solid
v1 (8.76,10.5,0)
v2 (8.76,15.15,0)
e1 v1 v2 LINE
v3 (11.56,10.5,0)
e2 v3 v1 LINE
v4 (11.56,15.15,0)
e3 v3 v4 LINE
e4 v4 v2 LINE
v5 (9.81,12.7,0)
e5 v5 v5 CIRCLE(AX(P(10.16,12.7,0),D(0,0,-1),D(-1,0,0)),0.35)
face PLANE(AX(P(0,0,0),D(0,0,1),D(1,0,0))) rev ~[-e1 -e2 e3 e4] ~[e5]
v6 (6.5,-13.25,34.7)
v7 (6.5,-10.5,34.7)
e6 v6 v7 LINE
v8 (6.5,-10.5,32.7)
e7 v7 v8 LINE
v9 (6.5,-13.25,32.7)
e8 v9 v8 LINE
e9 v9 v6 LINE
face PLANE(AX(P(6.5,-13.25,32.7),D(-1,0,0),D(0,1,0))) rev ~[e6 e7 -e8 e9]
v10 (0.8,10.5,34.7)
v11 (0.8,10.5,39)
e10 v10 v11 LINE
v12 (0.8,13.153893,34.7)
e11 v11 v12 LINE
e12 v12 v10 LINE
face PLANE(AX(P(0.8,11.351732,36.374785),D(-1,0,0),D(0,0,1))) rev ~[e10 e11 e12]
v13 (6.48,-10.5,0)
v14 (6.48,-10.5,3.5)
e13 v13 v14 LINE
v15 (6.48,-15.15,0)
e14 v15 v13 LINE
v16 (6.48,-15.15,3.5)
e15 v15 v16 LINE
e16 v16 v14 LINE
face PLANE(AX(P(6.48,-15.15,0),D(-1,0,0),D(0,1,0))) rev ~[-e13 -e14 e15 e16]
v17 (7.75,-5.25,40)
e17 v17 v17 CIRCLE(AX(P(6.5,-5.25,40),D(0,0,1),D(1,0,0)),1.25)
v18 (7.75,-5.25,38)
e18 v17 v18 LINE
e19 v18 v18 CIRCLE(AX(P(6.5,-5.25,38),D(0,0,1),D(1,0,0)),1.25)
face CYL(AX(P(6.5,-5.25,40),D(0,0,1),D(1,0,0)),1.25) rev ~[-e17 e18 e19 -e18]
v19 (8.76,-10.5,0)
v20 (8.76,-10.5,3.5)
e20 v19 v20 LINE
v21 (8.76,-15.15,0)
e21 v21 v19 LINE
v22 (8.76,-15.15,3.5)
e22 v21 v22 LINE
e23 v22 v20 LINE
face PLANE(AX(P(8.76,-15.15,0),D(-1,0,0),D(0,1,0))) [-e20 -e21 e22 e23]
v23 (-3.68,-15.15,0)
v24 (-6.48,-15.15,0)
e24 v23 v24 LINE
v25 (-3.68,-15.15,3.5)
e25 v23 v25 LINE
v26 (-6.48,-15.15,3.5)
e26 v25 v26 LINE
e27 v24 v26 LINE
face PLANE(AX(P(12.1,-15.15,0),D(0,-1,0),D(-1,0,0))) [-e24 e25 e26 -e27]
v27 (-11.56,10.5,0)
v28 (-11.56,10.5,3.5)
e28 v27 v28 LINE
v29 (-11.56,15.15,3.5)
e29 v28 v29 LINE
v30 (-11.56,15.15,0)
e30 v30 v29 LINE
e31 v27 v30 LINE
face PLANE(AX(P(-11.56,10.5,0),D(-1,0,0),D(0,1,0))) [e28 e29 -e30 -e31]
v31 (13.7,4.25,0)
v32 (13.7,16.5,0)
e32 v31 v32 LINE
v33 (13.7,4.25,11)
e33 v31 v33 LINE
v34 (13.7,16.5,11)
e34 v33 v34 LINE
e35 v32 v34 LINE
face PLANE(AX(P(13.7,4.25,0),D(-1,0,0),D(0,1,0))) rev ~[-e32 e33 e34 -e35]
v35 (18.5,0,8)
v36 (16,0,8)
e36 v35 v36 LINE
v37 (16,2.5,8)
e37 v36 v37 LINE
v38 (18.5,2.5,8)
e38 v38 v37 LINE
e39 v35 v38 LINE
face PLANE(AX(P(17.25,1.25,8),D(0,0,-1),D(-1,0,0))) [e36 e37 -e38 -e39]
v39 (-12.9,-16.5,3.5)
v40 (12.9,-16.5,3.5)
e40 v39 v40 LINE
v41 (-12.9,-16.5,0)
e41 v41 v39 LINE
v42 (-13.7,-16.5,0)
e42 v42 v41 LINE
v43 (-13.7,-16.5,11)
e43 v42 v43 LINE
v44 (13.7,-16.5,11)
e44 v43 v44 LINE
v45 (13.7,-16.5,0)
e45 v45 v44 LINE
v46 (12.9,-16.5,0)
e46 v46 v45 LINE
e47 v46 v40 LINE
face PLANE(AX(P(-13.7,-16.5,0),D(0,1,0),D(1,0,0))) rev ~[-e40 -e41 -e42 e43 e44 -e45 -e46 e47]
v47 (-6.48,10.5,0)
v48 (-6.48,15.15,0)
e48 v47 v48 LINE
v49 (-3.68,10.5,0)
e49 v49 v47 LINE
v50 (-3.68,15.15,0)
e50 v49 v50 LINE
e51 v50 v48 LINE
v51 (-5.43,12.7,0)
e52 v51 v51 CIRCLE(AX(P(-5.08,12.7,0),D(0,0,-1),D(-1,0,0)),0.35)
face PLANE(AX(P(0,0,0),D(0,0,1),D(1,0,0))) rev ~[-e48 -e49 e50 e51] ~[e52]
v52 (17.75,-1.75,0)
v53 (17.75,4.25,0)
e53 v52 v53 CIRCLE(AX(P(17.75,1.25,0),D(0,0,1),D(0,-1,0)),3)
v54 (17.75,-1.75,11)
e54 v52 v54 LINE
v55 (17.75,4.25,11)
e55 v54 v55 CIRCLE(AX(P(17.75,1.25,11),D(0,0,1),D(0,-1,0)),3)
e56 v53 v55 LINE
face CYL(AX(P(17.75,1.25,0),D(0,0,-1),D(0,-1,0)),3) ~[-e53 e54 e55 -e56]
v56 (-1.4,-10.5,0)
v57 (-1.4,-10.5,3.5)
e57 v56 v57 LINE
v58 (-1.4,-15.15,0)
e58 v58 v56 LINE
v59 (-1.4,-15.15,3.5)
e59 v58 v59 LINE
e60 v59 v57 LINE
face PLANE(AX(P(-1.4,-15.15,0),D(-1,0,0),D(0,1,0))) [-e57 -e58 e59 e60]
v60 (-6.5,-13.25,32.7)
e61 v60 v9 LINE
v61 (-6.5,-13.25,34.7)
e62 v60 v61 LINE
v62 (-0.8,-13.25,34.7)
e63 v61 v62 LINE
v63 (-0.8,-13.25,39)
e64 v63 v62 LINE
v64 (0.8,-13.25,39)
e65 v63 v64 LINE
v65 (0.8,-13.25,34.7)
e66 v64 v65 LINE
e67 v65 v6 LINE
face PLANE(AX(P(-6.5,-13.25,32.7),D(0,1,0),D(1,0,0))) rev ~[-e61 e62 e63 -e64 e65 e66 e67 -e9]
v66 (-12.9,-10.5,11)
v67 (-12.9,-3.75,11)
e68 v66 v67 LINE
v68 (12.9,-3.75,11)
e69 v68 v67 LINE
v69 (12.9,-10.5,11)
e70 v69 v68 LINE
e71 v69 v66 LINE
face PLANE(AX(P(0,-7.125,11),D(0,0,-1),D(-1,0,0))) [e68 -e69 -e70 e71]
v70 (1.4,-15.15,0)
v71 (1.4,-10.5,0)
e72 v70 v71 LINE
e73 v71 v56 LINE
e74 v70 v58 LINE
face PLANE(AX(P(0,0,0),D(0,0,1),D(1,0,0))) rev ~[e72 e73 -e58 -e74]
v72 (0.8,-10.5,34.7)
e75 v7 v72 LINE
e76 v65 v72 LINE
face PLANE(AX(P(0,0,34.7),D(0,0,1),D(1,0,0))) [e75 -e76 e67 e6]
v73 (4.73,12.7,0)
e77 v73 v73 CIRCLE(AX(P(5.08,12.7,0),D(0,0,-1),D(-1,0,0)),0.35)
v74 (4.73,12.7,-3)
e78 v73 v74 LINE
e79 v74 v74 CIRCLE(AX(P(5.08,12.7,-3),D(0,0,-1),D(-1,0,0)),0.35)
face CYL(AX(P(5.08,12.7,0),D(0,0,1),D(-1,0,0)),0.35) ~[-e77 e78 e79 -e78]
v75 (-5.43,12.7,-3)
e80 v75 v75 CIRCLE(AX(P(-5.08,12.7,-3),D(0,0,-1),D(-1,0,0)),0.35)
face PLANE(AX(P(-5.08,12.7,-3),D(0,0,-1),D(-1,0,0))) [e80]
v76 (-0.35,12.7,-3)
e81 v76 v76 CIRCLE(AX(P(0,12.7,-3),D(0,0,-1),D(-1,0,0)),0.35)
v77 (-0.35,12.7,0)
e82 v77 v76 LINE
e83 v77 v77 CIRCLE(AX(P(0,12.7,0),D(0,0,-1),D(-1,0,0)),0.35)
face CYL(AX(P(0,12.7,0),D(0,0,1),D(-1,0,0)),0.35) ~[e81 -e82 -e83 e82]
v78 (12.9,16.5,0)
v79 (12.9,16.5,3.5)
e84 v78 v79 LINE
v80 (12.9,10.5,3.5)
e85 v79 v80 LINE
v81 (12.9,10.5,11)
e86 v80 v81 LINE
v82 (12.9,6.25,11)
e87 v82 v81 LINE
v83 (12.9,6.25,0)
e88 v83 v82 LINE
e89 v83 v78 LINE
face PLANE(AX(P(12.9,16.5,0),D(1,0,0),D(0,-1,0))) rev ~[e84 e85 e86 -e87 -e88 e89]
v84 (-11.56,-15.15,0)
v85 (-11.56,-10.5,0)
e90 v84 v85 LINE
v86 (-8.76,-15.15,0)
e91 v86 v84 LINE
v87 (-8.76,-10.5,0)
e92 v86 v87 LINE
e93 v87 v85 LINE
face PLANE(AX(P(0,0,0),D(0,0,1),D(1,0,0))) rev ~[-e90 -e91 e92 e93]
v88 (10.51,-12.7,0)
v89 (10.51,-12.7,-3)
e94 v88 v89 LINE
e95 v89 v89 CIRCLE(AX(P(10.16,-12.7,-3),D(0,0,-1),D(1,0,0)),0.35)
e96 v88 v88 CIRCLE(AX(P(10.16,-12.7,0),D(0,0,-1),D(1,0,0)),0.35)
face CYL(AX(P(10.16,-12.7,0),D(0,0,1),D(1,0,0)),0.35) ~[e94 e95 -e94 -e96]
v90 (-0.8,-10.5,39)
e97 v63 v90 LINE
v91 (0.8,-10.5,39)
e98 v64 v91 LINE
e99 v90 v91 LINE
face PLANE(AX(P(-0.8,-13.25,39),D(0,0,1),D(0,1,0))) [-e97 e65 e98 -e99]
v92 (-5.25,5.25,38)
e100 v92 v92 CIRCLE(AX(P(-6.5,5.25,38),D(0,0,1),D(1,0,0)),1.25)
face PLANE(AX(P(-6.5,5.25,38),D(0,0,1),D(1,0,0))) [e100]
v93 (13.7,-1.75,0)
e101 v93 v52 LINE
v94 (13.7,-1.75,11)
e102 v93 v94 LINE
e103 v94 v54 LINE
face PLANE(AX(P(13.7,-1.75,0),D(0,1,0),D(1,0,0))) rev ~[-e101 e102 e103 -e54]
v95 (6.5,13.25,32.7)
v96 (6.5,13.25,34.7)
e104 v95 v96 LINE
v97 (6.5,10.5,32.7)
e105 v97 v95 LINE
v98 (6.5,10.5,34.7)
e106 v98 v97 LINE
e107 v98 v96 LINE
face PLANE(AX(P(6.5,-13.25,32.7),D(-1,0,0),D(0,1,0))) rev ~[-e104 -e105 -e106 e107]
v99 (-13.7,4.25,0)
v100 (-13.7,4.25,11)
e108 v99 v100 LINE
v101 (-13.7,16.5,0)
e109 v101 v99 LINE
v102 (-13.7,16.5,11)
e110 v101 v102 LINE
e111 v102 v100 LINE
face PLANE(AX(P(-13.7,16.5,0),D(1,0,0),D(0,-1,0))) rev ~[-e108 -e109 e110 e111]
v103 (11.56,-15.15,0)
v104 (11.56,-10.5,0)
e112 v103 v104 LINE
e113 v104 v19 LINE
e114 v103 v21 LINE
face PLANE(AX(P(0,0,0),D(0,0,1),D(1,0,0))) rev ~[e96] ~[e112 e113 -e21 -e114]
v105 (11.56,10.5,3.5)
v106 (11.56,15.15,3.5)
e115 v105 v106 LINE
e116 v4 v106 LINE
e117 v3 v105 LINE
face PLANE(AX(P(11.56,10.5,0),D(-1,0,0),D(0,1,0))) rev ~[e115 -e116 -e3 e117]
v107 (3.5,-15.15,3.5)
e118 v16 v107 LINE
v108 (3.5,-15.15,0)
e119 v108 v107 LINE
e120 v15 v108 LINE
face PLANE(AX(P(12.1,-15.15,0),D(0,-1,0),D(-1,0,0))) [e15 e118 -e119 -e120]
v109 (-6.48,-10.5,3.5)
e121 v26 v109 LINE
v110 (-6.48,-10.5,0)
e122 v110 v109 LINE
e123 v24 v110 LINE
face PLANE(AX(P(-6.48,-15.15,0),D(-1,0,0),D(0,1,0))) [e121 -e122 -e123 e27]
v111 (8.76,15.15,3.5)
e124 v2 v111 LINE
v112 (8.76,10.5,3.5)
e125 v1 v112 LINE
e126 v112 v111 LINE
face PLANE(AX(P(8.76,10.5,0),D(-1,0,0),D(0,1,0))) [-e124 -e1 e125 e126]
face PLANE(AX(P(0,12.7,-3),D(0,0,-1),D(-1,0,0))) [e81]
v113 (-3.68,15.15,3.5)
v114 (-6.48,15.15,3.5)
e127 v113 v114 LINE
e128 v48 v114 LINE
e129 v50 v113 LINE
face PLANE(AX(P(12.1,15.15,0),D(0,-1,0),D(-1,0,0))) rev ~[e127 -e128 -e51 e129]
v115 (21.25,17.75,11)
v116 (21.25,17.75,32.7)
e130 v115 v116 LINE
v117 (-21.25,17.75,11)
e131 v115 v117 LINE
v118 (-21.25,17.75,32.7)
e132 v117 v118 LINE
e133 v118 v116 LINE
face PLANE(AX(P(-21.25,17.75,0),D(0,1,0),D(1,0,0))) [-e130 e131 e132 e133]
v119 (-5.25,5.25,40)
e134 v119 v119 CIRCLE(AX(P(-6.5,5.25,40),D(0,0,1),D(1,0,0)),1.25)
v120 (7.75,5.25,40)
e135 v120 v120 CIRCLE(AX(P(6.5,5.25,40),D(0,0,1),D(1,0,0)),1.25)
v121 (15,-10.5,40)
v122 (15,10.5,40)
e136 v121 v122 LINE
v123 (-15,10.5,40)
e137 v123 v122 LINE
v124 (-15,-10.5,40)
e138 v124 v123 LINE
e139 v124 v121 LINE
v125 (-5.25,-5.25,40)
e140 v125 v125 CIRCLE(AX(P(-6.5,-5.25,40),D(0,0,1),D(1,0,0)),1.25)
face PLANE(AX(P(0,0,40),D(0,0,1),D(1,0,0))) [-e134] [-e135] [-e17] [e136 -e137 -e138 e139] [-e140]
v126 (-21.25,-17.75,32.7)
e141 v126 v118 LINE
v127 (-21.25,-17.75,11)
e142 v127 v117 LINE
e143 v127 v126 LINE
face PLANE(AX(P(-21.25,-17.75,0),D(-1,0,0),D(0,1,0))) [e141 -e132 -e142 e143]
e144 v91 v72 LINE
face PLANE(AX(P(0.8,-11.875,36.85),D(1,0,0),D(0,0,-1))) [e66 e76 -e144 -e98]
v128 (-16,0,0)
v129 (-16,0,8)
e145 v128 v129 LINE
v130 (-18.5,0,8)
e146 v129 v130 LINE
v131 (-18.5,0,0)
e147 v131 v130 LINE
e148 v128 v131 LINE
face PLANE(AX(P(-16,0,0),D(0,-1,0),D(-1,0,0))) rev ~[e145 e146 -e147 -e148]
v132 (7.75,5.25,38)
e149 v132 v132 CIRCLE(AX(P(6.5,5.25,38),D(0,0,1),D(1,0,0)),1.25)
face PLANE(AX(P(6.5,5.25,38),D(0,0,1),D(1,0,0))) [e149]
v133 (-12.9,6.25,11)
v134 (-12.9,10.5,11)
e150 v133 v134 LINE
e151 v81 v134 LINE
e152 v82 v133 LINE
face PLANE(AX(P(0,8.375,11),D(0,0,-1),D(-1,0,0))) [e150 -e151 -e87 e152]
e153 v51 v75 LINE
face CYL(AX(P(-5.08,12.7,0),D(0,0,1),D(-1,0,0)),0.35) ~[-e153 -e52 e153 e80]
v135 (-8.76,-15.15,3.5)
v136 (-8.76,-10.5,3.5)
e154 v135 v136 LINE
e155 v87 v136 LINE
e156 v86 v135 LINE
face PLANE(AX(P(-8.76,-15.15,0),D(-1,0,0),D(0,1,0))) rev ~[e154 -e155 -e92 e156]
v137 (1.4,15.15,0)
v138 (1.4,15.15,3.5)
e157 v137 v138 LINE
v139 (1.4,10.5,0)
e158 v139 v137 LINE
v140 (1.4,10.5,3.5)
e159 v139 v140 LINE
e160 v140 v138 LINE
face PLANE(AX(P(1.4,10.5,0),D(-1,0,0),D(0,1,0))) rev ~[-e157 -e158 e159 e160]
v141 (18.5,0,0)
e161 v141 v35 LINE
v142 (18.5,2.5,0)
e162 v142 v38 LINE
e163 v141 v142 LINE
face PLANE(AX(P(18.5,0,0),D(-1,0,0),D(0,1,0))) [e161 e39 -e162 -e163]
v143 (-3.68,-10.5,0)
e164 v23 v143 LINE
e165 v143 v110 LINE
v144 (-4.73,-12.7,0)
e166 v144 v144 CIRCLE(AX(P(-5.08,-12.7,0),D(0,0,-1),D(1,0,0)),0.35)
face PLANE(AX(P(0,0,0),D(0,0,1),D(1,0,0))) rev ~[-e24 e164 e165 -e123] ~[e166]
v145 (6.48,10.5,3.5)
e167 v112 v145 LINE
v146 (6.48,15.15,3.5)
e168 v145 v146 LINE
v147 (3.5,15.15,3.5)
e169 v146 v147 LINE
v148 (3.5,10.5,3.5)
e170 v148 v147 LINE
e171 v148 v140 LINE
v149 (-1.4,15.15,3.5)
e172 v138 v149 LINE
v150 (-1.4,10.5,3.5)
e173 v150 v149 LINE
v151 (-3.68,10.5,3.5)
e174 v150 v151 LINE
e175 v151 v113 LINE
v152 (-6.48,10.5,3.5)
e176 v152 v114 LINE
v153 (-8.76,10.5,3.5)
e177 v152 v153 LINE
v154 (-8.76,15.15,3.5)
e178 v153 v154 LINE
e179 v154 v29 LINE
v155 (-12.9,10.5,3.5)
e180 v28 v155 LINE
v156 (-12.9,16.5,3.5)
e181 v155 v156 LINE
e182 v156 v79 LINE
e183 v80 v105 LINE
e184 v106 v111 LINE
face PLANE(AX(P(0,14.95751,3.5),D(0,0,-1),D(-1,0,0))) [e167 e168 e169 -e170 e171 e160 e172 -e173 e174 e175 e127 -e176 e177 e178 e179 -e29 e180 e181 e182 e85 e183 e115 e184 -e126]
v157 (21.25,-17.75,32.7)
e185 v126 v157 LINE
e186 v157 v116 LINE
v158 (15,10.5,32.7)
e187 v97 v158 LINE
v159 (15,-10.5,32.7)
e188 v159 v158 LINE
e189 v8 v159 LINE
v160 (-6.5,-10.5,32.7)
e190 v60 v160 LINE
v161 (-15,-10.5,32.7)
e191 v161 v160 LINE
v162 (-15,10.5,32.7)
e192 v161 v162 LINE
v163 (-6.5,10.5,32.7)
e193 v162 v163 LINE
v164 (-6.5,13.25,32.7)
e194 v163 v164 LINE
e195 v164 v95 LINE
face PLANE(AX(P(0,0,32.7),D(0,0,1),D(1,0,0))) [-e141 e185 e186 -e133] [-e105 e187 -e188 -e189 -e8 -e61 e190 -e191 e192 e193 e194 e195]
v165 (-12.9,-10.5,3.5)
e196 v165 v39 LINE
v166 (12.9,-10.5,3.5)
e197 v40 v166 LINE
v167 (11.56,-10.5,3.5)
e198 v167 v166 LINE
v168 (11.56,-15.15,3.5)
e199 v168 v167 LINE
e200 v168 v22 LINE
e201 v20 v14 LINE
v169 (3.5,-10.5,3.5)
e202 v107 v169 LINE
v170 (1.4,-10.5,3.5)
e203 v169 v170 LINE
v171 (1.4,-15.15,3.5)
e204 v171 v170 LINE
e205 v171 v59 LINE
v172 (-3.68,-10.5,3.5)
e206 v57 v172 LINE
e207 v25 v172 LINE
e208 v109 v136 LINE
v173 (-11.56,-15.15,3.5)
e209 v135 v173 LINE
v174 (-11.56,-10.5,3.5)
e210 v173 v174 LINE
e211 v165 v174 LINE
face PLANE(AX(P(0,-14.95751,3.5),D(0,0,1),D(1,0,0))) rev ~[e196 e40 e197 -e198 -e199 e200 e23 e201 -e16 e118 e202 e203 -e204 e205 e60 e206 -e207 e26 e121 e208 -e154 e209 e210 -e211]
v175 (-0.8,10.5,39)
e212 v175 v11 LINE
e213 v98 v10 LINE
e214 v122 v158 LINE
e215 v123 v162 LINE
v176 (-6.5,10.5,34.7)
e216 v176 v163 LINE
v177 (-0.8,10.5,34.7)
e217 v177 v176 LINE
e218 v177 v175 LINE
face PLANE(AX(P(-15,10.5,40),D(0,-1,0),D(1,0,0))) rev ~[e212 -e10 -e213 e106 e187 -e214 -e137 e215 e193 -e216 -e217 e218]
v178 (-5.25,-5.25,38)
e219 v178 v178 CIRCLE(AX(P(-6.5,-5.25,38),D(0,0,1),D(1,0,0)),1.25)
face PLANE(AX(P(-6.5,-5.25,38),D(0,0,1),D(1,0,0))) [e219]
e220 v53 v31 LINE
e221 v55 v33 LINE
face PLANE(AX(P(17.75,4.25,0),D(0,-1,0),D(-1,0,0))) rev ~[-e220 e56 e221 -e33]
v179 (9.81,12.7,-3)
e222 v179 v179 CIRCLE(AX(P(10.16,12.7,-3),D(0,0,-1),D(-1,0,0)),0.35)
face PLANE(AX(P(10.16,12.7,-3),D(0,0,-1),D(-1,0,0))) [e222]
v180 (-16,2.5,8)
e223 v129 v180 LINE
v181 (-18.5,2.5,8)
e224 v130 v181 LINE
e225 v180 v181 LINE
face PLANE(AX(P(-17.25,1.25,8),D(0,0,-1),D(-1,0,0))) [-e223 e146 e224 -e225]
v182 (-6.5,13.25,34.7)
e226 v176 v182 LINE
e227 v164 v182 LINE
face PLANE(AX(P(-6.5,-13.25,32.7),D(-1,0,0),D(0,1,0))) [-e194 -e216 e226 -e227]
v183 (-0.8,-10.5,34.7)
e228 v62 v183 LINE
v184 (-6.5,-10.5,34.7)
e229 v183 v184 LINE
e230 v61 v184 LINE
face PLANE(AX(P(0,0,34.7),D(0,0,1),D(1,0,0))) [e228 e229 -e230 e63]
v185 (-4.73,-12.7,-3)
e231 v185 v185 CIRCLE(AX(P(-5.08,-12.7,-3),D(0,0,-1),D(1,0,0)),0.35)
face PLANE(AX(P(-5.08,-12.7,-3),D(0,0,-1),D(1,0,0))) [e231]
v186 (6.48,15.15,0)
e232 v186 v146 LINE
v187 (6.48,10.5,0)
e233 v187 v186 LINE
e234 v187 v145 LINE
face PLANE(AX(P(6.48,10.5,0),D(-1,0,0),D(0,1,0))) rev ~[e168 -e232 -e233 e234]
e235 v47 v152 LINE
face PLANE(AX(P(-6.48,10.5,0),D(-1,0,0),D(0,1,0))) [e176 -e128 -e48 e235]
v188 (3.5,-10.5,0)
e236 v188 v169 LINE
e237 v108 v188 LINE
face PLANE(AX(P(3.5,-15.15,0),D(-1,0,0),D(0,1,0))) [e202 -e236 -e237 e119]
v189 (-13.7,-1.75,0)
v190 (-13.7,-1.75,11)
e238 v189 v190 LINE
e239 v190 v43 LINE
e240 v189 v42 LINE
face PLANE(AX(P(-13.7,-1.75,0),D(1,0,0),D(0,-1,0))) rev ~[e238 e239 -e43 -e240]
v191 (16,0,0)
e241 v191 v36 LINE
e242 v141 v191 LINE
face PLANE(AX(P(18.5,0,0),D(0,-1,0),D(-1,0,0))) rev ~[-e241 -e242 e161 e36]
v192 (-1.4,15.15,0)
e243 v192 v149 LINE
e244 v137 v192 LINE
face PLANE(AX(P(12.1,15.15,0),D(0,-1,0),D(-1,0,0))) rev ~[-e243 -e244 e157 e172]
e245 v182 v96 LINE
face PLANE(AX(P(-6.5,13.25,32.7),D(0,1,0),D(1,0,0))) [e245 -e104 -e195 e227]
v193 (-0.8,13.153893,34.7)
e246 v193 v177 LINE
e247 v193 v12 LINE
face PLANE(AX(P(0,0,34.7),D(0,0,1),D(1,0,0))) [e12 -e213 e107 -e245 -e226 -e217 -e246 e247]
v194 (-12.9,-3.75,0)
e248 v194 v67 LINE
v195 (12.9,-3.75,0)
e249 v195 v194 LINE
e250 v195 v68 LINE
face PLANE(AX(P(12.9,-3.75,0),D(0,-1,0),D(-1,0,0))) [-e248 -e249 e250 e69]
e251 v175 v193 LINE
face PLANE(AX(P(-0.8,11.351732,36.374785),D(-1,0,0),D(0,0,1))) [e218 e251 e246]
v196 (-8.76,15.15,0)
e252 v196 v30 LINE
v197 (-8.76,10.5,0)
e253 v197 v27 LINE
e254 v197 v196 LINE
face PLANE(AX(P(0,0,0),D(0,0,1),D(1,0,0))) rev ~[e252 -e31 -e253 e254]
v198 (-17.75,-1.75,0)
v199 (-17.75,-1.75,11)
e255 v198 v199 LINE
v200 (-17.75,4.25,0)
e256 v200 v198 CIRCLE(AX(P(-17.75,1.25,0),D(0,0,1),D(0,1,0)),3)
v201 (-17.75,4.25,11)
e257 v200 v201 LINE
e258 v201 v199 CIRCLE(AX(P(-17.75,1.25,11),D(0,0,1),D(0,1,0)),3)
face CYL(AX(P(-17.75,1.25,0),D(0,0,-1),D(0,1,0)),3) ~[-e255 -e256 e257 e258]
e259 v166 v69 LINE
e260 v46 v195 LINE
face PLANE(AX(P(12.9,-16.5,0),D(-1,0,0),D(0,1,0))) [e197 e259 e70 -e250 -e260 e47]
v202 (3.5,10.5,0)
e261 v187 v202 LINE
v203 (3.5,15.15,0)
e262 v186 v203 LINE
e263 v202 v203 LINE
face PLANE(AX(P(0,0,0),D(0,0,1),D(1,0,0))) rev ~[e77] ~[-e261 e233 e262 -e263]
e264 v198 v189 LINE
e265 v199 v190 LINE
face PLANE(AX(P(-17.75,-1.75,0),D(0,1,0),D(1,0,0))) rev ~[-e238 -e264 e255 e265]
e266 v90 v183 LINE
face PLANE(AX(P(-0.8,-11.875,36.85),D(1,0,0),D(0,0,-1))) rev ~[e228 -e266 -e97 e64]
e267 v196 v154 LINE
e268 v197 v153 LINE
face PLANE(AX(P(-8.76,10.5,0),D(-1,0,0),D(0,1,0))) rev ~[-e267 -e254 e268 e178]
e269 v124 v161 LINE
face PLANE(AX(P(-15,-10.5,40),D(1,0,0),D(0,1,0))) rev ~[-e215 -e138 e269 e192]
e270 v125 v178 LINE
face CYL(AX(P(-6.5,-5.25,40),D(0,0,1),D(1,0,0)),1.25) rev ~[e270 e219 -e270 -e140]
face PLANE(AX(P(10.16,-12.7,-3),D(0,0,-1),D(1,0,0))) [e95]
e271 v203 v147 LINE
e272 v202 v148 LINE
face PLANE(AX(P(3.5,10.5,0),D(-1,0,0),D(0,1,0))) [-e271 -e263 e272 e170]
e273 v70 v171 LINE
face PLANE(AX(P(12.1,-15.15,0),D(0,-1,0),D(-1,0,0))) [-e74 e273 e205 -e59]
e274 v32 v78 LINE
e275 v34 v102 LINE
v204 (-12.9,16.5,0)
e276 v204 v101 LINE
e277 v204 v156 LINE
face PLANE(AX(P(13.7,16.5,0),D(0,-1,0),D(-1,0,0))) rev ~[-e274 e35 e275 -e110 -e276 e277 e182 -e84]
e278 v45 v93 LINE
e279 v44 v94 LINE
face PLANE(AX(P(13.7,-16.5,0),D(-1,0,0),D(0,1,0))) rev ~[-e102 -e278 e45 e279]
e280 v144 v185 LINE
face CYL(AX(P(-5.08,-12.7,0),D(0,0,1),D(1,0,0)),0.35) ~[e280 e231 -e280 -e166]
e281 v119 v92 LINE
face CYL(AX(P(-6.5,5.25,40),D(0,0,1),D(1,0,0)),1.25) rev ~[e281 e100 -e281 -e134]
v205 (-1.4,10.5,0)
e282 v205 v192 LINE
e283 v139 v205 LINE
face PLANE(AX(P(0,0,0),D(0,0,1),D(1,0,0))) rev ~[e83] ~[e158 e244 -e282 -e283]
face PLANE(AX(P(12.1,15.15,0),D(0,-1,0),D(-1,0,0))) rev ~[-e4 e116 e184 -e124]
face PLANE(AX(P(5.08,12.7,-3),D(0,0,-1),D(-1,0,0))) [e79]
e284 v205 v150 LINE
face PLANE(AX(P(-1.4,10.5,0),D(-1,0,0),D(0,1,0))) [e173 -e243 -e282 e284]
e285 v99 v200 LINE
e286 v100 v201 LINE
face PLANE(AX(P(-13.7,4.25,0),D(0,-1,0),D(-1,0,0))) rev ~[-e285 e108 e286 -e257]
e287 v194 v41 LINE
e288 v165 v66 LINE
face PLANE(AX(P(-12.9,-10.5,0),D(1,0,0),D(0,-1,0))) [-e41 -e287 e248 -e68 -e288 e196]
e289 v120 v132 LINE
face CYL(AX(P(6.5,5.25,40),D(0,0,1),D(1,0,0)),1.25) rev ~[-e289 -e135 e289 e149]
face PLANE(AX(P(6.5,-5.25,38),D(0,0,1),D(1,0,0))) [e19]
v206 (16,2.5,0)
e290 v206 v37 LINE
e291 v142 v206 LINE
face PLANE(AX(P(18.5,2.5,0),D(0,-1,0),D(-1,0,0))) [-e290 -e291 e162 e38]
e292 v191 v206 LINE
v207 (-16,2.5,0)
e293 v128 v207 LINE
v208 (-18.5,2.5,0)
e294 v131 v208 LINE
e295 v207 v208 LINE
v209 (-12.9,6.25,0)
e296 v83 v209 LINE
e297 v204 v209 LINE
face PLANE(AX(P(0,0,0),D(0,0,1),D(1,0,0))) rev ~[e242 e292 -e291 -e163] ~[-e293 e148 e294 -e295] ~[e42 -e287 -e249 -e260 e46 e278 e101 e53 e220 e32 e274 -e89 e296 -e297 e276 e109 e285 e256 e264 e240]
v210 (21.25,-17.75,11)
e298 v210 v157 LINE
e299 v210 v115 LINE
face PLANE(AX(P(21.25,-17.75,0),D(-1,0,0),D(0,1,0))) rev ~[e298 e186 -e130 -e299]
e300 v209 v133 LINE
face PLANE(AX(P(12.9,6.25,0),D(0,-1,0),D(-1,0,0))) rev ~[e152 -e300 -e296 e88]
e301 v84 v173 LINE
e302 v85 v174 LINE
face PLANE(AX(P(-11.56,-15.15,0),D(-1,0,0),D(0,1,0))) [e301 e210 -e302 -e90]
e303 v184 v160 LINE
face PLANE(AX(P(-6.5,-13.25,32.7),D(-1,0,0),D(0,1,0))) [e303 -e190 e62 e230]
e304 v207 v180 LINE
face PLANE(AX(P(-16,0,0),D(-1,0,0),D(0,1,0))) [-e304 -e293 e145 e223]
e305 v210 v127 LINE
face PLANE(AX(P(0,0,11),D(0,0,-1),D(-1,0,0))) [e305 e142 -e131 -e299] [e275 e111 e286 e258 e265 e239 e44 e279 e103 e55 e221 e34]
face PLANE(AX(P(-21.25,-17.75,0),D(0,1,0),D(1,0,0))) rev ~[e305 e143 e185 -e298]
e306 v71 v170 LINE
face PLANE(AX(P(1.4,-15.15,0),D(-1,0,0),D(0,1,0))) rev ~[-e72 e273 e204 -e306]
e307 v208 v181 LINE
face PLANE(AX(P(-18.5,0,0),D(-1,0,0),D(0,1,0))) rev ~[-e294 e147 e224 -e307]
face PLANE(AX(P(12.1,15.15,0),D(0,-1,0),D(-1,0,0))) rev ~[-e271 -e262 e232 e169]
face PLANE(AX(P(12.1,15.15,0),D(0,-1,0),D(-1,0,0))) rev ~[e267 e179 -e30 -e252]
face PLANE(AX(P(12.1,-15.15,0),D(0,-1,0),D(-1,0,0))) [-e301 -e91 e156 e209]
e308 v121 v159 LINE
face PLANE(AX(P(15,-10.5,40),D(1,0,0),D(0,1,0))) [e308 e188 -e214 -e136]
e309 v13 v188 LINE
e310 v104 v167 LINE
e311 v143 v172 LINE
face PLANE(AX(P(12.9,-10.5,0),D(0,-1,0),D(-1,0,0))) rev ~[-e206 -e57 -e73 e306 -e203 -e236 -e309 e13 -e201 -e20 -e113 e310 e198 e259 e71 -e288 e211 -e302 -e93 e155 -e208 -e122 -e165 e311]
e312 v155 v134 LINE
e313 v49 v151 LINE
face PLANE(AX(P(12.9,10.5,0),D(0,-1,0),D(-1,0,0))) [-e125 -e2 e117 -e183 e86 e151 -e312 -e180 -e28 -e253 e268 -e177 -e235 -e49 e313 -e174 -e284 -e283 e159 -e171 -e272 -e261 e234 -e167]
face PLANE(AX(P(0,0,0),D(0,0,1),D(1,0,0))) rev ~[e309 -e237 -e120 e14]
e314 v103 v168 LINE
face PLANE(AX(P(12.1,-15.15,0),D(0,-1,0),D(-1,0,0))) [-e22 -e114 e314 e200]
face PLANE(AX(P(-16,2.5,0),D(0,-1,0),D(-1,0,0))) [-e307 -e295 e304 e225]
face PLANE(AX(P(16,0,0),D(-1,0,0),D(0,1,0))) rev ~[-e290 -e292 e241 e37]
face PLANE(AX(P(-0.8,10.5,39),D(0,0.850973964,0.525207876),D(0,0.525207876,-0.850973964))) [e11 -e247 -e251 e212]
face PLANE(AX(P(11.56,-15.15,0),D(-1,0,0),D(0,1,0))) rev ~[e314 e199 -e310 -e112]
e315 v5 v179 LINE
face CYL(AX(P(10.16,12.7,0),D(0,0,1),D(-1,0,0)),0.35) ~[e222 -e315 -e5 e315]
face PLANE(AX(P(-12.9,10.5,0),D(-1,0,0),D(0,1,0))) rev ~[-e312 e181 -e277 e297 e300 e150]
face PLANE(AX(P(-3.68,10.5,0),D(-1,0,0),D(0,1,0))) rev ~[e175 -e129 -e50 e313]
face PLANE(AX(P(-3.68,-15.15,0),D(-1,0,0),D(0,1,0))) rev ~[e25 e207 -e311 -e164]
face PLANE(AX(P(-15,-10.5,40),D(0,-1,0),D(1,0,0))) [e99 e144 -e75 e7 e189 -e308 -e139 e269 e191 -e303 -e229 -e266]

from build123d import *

# Parameters (mm, degrees)
SKETCH_1_W                 = 42.5
SKETCH_1_H                 = 35.5
EXTRUDE_1_DEPTH            = 40
SKETCH_2_W                 = 42.5
SKETCH_2_H                 = 35.5
SKETCH_2_W_2               = 30
SKETCH_2_H_2               = 21
CUT_EXTRUDE_1_DEPTH        = 7.3
SKETCH_3_W                 = 13
SKETCH_3_H                 = 26.5
EXTRUDE_2_DEPTH            = 2
EXTRUDE_3_DEPTH            = 0.8
EXTRUDE_3_DEPTH_BACK       = 0.8
SKETCH_4_W                 = 4.3
SKETCH_4_H                 = 2.75
SKETCH_5_R                 = 1.25
CUT_EXTRUDE_2_DEPTH        = 2
SKETCH_6_W                 = 42.5
SKETCH_6_H                 = 35.5
CUT_EXTRUDE_3_DEPTH        = 11
SKETCH_7_W                 = 2.5
SKETCH_7_H                 = 2.5
CUT_EXTRUDE_4_DEPTH        = 8
SKETCH_8_W                 = 25.8
SKETCH_8_H                 = 4.25
SKETCH_8_H_2               = 6.75
CUT_EXTRUDE_5_DEPTH        = 11
CUT_EXTRUDE_6_DEPTH        = 3.5
SKETCH_10_W                = 2.1
SKETCH_10_H                = 4.65
SKETCH_10_W_2              = 2.28
SKETCH_10_W_3              = 0.939967479
CUT_EXTRUDE_7_DEPTH        = 3.5
SKETCH_11_R                = 0.35
EXTRUDE_4_DEPTH            = 3
PATTERN_LINEAR_1_COUNT     = 3
PATTERN_LINEAR_1_PITCH     = 5.08
PATTERN_LINEAR_1_COL_COUNT = 3
PATTERN_LINEAR_1_COL_PITCH = 5.08
CUT_EXTRUDE_START          = -3
SKETCH_12_R                = 0.35
CUT_EXTRUDE_8_DEPTH        = 3


with BuildPart() as part:
    # Эскиз1 → Вытянуть1 (new body)
    with BuildSketch(Plane.XY):
        Rectangle(SKETCH_1_W, SKETCH_1_H)
    extrude(amount=EXTRUDE_1_DEPTH)

    # Эскиз2 → Вырез-Вытянуть1 (cut)
    with BuildSketch(Plane.XY.offset(40)):
        Rectangle(SKETCH_2_W, SKETCH_2_H)
        Rectangle(SKETCH_2_W_2, SKETCH_2_H_2, mode=Mode.SUBTRACT)
    extrude(amount=-CUT_EXTRUDE_1_DEPTH, mode=Mode.SUBTRACT)

    # Эскиз3 → Вытянуть2 (add)
    with BuildSketch(Plane.XY.offset(32.7)):
        Rectangle(SKETCH_3_W, SKETCH_3_H)
    extrude(amount=EXTRUDE_2_DEPTH)

    # Эскиз4 → Вытянуть3 (add, two sides: drawn at the far end of the back side and taken through both)
    with BuildSketch(Plane(origin=(0, 0, 0), x_dir=(0, 0, -1), z_dir=(1, 0, 0)).offset(-EXTRUDE_3_DEPTH_BACK)):
        Polygon((-34.7, 10.5), (-39, 10.5), (-34.7, 13.153893026), align=None)
        with Locations((-36.85, -11.875)):
            Rectangle(SKETCH_4_W, SKETCH_4_H)
    extrude(amount=EXTRUDE_3_DEPTH + EXTRUDE_3_DEPTH_BACK)

    # Эскиз5 → Вырез-Вытянуть2 (cut)
    with BuildSketch(Plane.XY.offset(40)):
        with Locations((-6.5, 5.25)):
            Circle(SKETCH_5_R)
        with Locations((6.5, 5.25)):
            Circle(SKETCH_5_R)
        with Locations((6.5, -5.25)):
            Circle(SKETCH_5_R)
        with Locations((-6.5, -5.25)):
            Circle(SKETCH_5_R)
    extrude(amount=-CUT_EXTRUDE_2_DEPTH, mode=Mode.SUBTRACT)

    # Эскиз6 → Вырез-Вытянуть3 (cut)
    with BuildSketch(Plane(origin=(0, 0, 0), x_dir=(-1, 0, 0), z_dir=(0, 0, -1))):
        Rectangle(SKETCH_6_W, SKETCH_6_H)
        with BuildLine():
            Line((-17.75, 4.25), (-13.7, 4.25))
            Line((-13.7, 4.25), (-13.7, 16.5))
            Line((-13.7, 16.5), (13.7, 16.5))
            Line((13.7, 16.5), (13.7, 4.25))
            Line((13.7, 4.25), (17.75, 4.25))
            ThreePointArc((17.75, 4.25), (20.75, 1.25), (17.75, -1.75))
            Line((17.75, -1.75), (13.7, -1.75))
            Line((13.7, -1.75), (13.7, -16.5))
            Line((13.7, -16.5), (-13.7, -16.5))
            Line((-13.7, -16.5), (-13.7, -1.75))
            Line((-13.7, -1.75), (-17.75, -1.75))
            ThreePointArc((-17.75, -1.75), (-20.75, 1.25), (-17.75, 4.25))
        make_face(mode=Mode.SUBTRACT)
    extrude(amount=-CUT_EXTRUDE_3_DEPTH, mode=Mode.SUBTRACT)

    # Эскиз7 → Вырез-Вытянуть4 (cut)
    with BuildSketch(Plane(origin=(0, 0, 0), x_dir=(-1, 0, 0), z_dir=(0, 0, -1))):
        with Locations((17.25, 1.25)):
            Rectangle(SKETCH_7_W, SKETCH_7_H)
        with Locations((-17.25, 1.25)):
            Rectangle(SKETCH_7_W, SKETCH_7_H)
    extrude(amount=-CUT_EXTRUDE_4_DEPTH, mode=Mode.SUBTRACT)

    # Эскиз8 → Вырез-Вытянуть5 (cut)
    with BuildSketch(Plane(origin=(0, 0, 0), x_dir=(-1, 0, 0), z_dir=(0, 0, -1))):
        with Locations((0, 8.375)):
            Rectangle(SKETCH_8_W, SKETCH_8_H)
        with Locations((0, -7.125)):
            Rectangle(SKETCH_8_W, SKETCH_8_H_2)
    extrude(amount=-CUT_EXTRUDE_5_DEPTH, mode=Mode.SUBTRACT)

    # Эскиз9 → Вырез-Вытянуть6 (cut)
    with BuildSketch(Plane(origin=(0, 0, 0), x_dir=(-1, 0, 0), z_dir=(0, 0, -1))):
        Polygon((12.9, 16.5), (-12.9, 16.5), (-12.9, 10.5), (-12.1, 10.5), (-12.1, 15.15), (12.1, 15.15), (12.1, 10.5), (12.9, 10.5), align=None)
        Polygon((12.9, -10.5), (12.9, -16.5), (-12.9, -16.5), (-12.9, -10.5), (-12.1, -10.5), (-12.1, -15.15), (12.1, -15.15), (12.1, -10.5), align=None)
    extrude(amount=-CUT_EXTRUDE_6_DEPTH, mode=Mode.SUBTRACT)

    # Эскиз10 → Вырез-Вытянуть7 (cut)
    with BuildSketch(Plane(origin=(0, 0, 0), x_dir=(-1, 0, 0), z_dir=(0, 0, -1))):
        with Locations((-2.45, 12.825)):
            Rectangle(SKETCH_10_W, SKETCH_10_H)
        with Locations((2.54, 12.825)):
            Rectangle(SKETCH_10_W_2, SKETCH_10_H)
        with Locations((7.62, 12.825)):
            Rectangle(SKETCH_10_W_2, SKETCH_10_H)
        with Locations((12.02998374, 12.825)):
            Rectangle(SKETCH_10_W_3, SKETCH_10_H)
        with Locations((-12.02998374, 12.825)):
            Rectangle(SKETCH_10_W_3, SKETCH_10_H)
        with Locations((-7.62, 12.825)):
            Rectangle(SKETCH_10_W_2, SKETCH_10_H)
        with Locations((-7.62, -12.825)):
            Rectangle(SKETCH_10_W_2, SKETCH_10_H)
        with Locations((-12.02998374, -12.825)):
            Rectangle(SKETCH_10_W_3, SKETCH_10_H)
        with Locations((12.02998374, -12.825)):
            Rectangle(SKETCH_10_W_3, SKETCH_10_H)
        with Locations((7.62, -12.825)):
            Rectangle(SKETCH_10_W_2, SKETCH_10_H)
        with Locations((2.54, -12.825)):
            Rectangle(SKETCH_10_W_2, SKETCH_10_H)
        with Locations((-2.45, -12.825)):
            Rectangle(SKETCH_10_W, SKETCH_10_H)
    extrude(amount=-CUT_EXTRUDE_7_DEPTH, mode=Mode.SUBTRACT)

    # Эскиз11 → Вытянуть4 (add)
    with BuildSketch(Plane(origin=(0, 0, 0), x_dir=(-1, 0, 0), z_dir=(0, 0, -1))):
        with Locations((0, 12.7)):
            Circle(SKETCH_11_R)
        with Locations(Location((0, -12.7, 0), (0, 0, 180))):
            Circle(SKETCH_11_R)
    extrude_4 = extrude(amount=EXTRUDE_4_DEPTH)

    # Линейный массив1: Вытянуть4 ×3
    with Locations(*[(i * PATTERN_LINEAR_1_PITCH, 0, 0) for i in range(1, PATTERN_LINEAR_1_COUNT)]):
        add(extrude_4)

    # Линейный массив1 col: Вытянуть4 ×3
    with Locations(*[(-i * PATTERN_LINEAR_1_COL_PITCH, 0, 0) for i in range(1, PATTERN_LINEAR_1_COL_COUNT)]):
        add(extrude_4)

    # Эскиз12 → Вырез-Вытянуть8 (cut)
    with BuildSketch(Plane(origin=(0, 0, -3), x_dir=(-1, 0, 0), z_dir=(0, 0, -1)).offset(CUT_EXTRUDE_START)):
        with Locations((10.16, 12.7)):
            Circle(SKETCH_12_R)
        with Locations((10.16, -12.7)):
            Circle(SKETCH_12_R)
        with Locations((0, -12.7)):
            Circle(SKETCH_12_R)
        with Locations((-5.08, -12.7)):
            Circle(SKETCH_12_R)
    extrude(amount=CUT_EXTRUDE_8_DEPTH, mode=Mode.SUBTRACT)


solid = part.part
